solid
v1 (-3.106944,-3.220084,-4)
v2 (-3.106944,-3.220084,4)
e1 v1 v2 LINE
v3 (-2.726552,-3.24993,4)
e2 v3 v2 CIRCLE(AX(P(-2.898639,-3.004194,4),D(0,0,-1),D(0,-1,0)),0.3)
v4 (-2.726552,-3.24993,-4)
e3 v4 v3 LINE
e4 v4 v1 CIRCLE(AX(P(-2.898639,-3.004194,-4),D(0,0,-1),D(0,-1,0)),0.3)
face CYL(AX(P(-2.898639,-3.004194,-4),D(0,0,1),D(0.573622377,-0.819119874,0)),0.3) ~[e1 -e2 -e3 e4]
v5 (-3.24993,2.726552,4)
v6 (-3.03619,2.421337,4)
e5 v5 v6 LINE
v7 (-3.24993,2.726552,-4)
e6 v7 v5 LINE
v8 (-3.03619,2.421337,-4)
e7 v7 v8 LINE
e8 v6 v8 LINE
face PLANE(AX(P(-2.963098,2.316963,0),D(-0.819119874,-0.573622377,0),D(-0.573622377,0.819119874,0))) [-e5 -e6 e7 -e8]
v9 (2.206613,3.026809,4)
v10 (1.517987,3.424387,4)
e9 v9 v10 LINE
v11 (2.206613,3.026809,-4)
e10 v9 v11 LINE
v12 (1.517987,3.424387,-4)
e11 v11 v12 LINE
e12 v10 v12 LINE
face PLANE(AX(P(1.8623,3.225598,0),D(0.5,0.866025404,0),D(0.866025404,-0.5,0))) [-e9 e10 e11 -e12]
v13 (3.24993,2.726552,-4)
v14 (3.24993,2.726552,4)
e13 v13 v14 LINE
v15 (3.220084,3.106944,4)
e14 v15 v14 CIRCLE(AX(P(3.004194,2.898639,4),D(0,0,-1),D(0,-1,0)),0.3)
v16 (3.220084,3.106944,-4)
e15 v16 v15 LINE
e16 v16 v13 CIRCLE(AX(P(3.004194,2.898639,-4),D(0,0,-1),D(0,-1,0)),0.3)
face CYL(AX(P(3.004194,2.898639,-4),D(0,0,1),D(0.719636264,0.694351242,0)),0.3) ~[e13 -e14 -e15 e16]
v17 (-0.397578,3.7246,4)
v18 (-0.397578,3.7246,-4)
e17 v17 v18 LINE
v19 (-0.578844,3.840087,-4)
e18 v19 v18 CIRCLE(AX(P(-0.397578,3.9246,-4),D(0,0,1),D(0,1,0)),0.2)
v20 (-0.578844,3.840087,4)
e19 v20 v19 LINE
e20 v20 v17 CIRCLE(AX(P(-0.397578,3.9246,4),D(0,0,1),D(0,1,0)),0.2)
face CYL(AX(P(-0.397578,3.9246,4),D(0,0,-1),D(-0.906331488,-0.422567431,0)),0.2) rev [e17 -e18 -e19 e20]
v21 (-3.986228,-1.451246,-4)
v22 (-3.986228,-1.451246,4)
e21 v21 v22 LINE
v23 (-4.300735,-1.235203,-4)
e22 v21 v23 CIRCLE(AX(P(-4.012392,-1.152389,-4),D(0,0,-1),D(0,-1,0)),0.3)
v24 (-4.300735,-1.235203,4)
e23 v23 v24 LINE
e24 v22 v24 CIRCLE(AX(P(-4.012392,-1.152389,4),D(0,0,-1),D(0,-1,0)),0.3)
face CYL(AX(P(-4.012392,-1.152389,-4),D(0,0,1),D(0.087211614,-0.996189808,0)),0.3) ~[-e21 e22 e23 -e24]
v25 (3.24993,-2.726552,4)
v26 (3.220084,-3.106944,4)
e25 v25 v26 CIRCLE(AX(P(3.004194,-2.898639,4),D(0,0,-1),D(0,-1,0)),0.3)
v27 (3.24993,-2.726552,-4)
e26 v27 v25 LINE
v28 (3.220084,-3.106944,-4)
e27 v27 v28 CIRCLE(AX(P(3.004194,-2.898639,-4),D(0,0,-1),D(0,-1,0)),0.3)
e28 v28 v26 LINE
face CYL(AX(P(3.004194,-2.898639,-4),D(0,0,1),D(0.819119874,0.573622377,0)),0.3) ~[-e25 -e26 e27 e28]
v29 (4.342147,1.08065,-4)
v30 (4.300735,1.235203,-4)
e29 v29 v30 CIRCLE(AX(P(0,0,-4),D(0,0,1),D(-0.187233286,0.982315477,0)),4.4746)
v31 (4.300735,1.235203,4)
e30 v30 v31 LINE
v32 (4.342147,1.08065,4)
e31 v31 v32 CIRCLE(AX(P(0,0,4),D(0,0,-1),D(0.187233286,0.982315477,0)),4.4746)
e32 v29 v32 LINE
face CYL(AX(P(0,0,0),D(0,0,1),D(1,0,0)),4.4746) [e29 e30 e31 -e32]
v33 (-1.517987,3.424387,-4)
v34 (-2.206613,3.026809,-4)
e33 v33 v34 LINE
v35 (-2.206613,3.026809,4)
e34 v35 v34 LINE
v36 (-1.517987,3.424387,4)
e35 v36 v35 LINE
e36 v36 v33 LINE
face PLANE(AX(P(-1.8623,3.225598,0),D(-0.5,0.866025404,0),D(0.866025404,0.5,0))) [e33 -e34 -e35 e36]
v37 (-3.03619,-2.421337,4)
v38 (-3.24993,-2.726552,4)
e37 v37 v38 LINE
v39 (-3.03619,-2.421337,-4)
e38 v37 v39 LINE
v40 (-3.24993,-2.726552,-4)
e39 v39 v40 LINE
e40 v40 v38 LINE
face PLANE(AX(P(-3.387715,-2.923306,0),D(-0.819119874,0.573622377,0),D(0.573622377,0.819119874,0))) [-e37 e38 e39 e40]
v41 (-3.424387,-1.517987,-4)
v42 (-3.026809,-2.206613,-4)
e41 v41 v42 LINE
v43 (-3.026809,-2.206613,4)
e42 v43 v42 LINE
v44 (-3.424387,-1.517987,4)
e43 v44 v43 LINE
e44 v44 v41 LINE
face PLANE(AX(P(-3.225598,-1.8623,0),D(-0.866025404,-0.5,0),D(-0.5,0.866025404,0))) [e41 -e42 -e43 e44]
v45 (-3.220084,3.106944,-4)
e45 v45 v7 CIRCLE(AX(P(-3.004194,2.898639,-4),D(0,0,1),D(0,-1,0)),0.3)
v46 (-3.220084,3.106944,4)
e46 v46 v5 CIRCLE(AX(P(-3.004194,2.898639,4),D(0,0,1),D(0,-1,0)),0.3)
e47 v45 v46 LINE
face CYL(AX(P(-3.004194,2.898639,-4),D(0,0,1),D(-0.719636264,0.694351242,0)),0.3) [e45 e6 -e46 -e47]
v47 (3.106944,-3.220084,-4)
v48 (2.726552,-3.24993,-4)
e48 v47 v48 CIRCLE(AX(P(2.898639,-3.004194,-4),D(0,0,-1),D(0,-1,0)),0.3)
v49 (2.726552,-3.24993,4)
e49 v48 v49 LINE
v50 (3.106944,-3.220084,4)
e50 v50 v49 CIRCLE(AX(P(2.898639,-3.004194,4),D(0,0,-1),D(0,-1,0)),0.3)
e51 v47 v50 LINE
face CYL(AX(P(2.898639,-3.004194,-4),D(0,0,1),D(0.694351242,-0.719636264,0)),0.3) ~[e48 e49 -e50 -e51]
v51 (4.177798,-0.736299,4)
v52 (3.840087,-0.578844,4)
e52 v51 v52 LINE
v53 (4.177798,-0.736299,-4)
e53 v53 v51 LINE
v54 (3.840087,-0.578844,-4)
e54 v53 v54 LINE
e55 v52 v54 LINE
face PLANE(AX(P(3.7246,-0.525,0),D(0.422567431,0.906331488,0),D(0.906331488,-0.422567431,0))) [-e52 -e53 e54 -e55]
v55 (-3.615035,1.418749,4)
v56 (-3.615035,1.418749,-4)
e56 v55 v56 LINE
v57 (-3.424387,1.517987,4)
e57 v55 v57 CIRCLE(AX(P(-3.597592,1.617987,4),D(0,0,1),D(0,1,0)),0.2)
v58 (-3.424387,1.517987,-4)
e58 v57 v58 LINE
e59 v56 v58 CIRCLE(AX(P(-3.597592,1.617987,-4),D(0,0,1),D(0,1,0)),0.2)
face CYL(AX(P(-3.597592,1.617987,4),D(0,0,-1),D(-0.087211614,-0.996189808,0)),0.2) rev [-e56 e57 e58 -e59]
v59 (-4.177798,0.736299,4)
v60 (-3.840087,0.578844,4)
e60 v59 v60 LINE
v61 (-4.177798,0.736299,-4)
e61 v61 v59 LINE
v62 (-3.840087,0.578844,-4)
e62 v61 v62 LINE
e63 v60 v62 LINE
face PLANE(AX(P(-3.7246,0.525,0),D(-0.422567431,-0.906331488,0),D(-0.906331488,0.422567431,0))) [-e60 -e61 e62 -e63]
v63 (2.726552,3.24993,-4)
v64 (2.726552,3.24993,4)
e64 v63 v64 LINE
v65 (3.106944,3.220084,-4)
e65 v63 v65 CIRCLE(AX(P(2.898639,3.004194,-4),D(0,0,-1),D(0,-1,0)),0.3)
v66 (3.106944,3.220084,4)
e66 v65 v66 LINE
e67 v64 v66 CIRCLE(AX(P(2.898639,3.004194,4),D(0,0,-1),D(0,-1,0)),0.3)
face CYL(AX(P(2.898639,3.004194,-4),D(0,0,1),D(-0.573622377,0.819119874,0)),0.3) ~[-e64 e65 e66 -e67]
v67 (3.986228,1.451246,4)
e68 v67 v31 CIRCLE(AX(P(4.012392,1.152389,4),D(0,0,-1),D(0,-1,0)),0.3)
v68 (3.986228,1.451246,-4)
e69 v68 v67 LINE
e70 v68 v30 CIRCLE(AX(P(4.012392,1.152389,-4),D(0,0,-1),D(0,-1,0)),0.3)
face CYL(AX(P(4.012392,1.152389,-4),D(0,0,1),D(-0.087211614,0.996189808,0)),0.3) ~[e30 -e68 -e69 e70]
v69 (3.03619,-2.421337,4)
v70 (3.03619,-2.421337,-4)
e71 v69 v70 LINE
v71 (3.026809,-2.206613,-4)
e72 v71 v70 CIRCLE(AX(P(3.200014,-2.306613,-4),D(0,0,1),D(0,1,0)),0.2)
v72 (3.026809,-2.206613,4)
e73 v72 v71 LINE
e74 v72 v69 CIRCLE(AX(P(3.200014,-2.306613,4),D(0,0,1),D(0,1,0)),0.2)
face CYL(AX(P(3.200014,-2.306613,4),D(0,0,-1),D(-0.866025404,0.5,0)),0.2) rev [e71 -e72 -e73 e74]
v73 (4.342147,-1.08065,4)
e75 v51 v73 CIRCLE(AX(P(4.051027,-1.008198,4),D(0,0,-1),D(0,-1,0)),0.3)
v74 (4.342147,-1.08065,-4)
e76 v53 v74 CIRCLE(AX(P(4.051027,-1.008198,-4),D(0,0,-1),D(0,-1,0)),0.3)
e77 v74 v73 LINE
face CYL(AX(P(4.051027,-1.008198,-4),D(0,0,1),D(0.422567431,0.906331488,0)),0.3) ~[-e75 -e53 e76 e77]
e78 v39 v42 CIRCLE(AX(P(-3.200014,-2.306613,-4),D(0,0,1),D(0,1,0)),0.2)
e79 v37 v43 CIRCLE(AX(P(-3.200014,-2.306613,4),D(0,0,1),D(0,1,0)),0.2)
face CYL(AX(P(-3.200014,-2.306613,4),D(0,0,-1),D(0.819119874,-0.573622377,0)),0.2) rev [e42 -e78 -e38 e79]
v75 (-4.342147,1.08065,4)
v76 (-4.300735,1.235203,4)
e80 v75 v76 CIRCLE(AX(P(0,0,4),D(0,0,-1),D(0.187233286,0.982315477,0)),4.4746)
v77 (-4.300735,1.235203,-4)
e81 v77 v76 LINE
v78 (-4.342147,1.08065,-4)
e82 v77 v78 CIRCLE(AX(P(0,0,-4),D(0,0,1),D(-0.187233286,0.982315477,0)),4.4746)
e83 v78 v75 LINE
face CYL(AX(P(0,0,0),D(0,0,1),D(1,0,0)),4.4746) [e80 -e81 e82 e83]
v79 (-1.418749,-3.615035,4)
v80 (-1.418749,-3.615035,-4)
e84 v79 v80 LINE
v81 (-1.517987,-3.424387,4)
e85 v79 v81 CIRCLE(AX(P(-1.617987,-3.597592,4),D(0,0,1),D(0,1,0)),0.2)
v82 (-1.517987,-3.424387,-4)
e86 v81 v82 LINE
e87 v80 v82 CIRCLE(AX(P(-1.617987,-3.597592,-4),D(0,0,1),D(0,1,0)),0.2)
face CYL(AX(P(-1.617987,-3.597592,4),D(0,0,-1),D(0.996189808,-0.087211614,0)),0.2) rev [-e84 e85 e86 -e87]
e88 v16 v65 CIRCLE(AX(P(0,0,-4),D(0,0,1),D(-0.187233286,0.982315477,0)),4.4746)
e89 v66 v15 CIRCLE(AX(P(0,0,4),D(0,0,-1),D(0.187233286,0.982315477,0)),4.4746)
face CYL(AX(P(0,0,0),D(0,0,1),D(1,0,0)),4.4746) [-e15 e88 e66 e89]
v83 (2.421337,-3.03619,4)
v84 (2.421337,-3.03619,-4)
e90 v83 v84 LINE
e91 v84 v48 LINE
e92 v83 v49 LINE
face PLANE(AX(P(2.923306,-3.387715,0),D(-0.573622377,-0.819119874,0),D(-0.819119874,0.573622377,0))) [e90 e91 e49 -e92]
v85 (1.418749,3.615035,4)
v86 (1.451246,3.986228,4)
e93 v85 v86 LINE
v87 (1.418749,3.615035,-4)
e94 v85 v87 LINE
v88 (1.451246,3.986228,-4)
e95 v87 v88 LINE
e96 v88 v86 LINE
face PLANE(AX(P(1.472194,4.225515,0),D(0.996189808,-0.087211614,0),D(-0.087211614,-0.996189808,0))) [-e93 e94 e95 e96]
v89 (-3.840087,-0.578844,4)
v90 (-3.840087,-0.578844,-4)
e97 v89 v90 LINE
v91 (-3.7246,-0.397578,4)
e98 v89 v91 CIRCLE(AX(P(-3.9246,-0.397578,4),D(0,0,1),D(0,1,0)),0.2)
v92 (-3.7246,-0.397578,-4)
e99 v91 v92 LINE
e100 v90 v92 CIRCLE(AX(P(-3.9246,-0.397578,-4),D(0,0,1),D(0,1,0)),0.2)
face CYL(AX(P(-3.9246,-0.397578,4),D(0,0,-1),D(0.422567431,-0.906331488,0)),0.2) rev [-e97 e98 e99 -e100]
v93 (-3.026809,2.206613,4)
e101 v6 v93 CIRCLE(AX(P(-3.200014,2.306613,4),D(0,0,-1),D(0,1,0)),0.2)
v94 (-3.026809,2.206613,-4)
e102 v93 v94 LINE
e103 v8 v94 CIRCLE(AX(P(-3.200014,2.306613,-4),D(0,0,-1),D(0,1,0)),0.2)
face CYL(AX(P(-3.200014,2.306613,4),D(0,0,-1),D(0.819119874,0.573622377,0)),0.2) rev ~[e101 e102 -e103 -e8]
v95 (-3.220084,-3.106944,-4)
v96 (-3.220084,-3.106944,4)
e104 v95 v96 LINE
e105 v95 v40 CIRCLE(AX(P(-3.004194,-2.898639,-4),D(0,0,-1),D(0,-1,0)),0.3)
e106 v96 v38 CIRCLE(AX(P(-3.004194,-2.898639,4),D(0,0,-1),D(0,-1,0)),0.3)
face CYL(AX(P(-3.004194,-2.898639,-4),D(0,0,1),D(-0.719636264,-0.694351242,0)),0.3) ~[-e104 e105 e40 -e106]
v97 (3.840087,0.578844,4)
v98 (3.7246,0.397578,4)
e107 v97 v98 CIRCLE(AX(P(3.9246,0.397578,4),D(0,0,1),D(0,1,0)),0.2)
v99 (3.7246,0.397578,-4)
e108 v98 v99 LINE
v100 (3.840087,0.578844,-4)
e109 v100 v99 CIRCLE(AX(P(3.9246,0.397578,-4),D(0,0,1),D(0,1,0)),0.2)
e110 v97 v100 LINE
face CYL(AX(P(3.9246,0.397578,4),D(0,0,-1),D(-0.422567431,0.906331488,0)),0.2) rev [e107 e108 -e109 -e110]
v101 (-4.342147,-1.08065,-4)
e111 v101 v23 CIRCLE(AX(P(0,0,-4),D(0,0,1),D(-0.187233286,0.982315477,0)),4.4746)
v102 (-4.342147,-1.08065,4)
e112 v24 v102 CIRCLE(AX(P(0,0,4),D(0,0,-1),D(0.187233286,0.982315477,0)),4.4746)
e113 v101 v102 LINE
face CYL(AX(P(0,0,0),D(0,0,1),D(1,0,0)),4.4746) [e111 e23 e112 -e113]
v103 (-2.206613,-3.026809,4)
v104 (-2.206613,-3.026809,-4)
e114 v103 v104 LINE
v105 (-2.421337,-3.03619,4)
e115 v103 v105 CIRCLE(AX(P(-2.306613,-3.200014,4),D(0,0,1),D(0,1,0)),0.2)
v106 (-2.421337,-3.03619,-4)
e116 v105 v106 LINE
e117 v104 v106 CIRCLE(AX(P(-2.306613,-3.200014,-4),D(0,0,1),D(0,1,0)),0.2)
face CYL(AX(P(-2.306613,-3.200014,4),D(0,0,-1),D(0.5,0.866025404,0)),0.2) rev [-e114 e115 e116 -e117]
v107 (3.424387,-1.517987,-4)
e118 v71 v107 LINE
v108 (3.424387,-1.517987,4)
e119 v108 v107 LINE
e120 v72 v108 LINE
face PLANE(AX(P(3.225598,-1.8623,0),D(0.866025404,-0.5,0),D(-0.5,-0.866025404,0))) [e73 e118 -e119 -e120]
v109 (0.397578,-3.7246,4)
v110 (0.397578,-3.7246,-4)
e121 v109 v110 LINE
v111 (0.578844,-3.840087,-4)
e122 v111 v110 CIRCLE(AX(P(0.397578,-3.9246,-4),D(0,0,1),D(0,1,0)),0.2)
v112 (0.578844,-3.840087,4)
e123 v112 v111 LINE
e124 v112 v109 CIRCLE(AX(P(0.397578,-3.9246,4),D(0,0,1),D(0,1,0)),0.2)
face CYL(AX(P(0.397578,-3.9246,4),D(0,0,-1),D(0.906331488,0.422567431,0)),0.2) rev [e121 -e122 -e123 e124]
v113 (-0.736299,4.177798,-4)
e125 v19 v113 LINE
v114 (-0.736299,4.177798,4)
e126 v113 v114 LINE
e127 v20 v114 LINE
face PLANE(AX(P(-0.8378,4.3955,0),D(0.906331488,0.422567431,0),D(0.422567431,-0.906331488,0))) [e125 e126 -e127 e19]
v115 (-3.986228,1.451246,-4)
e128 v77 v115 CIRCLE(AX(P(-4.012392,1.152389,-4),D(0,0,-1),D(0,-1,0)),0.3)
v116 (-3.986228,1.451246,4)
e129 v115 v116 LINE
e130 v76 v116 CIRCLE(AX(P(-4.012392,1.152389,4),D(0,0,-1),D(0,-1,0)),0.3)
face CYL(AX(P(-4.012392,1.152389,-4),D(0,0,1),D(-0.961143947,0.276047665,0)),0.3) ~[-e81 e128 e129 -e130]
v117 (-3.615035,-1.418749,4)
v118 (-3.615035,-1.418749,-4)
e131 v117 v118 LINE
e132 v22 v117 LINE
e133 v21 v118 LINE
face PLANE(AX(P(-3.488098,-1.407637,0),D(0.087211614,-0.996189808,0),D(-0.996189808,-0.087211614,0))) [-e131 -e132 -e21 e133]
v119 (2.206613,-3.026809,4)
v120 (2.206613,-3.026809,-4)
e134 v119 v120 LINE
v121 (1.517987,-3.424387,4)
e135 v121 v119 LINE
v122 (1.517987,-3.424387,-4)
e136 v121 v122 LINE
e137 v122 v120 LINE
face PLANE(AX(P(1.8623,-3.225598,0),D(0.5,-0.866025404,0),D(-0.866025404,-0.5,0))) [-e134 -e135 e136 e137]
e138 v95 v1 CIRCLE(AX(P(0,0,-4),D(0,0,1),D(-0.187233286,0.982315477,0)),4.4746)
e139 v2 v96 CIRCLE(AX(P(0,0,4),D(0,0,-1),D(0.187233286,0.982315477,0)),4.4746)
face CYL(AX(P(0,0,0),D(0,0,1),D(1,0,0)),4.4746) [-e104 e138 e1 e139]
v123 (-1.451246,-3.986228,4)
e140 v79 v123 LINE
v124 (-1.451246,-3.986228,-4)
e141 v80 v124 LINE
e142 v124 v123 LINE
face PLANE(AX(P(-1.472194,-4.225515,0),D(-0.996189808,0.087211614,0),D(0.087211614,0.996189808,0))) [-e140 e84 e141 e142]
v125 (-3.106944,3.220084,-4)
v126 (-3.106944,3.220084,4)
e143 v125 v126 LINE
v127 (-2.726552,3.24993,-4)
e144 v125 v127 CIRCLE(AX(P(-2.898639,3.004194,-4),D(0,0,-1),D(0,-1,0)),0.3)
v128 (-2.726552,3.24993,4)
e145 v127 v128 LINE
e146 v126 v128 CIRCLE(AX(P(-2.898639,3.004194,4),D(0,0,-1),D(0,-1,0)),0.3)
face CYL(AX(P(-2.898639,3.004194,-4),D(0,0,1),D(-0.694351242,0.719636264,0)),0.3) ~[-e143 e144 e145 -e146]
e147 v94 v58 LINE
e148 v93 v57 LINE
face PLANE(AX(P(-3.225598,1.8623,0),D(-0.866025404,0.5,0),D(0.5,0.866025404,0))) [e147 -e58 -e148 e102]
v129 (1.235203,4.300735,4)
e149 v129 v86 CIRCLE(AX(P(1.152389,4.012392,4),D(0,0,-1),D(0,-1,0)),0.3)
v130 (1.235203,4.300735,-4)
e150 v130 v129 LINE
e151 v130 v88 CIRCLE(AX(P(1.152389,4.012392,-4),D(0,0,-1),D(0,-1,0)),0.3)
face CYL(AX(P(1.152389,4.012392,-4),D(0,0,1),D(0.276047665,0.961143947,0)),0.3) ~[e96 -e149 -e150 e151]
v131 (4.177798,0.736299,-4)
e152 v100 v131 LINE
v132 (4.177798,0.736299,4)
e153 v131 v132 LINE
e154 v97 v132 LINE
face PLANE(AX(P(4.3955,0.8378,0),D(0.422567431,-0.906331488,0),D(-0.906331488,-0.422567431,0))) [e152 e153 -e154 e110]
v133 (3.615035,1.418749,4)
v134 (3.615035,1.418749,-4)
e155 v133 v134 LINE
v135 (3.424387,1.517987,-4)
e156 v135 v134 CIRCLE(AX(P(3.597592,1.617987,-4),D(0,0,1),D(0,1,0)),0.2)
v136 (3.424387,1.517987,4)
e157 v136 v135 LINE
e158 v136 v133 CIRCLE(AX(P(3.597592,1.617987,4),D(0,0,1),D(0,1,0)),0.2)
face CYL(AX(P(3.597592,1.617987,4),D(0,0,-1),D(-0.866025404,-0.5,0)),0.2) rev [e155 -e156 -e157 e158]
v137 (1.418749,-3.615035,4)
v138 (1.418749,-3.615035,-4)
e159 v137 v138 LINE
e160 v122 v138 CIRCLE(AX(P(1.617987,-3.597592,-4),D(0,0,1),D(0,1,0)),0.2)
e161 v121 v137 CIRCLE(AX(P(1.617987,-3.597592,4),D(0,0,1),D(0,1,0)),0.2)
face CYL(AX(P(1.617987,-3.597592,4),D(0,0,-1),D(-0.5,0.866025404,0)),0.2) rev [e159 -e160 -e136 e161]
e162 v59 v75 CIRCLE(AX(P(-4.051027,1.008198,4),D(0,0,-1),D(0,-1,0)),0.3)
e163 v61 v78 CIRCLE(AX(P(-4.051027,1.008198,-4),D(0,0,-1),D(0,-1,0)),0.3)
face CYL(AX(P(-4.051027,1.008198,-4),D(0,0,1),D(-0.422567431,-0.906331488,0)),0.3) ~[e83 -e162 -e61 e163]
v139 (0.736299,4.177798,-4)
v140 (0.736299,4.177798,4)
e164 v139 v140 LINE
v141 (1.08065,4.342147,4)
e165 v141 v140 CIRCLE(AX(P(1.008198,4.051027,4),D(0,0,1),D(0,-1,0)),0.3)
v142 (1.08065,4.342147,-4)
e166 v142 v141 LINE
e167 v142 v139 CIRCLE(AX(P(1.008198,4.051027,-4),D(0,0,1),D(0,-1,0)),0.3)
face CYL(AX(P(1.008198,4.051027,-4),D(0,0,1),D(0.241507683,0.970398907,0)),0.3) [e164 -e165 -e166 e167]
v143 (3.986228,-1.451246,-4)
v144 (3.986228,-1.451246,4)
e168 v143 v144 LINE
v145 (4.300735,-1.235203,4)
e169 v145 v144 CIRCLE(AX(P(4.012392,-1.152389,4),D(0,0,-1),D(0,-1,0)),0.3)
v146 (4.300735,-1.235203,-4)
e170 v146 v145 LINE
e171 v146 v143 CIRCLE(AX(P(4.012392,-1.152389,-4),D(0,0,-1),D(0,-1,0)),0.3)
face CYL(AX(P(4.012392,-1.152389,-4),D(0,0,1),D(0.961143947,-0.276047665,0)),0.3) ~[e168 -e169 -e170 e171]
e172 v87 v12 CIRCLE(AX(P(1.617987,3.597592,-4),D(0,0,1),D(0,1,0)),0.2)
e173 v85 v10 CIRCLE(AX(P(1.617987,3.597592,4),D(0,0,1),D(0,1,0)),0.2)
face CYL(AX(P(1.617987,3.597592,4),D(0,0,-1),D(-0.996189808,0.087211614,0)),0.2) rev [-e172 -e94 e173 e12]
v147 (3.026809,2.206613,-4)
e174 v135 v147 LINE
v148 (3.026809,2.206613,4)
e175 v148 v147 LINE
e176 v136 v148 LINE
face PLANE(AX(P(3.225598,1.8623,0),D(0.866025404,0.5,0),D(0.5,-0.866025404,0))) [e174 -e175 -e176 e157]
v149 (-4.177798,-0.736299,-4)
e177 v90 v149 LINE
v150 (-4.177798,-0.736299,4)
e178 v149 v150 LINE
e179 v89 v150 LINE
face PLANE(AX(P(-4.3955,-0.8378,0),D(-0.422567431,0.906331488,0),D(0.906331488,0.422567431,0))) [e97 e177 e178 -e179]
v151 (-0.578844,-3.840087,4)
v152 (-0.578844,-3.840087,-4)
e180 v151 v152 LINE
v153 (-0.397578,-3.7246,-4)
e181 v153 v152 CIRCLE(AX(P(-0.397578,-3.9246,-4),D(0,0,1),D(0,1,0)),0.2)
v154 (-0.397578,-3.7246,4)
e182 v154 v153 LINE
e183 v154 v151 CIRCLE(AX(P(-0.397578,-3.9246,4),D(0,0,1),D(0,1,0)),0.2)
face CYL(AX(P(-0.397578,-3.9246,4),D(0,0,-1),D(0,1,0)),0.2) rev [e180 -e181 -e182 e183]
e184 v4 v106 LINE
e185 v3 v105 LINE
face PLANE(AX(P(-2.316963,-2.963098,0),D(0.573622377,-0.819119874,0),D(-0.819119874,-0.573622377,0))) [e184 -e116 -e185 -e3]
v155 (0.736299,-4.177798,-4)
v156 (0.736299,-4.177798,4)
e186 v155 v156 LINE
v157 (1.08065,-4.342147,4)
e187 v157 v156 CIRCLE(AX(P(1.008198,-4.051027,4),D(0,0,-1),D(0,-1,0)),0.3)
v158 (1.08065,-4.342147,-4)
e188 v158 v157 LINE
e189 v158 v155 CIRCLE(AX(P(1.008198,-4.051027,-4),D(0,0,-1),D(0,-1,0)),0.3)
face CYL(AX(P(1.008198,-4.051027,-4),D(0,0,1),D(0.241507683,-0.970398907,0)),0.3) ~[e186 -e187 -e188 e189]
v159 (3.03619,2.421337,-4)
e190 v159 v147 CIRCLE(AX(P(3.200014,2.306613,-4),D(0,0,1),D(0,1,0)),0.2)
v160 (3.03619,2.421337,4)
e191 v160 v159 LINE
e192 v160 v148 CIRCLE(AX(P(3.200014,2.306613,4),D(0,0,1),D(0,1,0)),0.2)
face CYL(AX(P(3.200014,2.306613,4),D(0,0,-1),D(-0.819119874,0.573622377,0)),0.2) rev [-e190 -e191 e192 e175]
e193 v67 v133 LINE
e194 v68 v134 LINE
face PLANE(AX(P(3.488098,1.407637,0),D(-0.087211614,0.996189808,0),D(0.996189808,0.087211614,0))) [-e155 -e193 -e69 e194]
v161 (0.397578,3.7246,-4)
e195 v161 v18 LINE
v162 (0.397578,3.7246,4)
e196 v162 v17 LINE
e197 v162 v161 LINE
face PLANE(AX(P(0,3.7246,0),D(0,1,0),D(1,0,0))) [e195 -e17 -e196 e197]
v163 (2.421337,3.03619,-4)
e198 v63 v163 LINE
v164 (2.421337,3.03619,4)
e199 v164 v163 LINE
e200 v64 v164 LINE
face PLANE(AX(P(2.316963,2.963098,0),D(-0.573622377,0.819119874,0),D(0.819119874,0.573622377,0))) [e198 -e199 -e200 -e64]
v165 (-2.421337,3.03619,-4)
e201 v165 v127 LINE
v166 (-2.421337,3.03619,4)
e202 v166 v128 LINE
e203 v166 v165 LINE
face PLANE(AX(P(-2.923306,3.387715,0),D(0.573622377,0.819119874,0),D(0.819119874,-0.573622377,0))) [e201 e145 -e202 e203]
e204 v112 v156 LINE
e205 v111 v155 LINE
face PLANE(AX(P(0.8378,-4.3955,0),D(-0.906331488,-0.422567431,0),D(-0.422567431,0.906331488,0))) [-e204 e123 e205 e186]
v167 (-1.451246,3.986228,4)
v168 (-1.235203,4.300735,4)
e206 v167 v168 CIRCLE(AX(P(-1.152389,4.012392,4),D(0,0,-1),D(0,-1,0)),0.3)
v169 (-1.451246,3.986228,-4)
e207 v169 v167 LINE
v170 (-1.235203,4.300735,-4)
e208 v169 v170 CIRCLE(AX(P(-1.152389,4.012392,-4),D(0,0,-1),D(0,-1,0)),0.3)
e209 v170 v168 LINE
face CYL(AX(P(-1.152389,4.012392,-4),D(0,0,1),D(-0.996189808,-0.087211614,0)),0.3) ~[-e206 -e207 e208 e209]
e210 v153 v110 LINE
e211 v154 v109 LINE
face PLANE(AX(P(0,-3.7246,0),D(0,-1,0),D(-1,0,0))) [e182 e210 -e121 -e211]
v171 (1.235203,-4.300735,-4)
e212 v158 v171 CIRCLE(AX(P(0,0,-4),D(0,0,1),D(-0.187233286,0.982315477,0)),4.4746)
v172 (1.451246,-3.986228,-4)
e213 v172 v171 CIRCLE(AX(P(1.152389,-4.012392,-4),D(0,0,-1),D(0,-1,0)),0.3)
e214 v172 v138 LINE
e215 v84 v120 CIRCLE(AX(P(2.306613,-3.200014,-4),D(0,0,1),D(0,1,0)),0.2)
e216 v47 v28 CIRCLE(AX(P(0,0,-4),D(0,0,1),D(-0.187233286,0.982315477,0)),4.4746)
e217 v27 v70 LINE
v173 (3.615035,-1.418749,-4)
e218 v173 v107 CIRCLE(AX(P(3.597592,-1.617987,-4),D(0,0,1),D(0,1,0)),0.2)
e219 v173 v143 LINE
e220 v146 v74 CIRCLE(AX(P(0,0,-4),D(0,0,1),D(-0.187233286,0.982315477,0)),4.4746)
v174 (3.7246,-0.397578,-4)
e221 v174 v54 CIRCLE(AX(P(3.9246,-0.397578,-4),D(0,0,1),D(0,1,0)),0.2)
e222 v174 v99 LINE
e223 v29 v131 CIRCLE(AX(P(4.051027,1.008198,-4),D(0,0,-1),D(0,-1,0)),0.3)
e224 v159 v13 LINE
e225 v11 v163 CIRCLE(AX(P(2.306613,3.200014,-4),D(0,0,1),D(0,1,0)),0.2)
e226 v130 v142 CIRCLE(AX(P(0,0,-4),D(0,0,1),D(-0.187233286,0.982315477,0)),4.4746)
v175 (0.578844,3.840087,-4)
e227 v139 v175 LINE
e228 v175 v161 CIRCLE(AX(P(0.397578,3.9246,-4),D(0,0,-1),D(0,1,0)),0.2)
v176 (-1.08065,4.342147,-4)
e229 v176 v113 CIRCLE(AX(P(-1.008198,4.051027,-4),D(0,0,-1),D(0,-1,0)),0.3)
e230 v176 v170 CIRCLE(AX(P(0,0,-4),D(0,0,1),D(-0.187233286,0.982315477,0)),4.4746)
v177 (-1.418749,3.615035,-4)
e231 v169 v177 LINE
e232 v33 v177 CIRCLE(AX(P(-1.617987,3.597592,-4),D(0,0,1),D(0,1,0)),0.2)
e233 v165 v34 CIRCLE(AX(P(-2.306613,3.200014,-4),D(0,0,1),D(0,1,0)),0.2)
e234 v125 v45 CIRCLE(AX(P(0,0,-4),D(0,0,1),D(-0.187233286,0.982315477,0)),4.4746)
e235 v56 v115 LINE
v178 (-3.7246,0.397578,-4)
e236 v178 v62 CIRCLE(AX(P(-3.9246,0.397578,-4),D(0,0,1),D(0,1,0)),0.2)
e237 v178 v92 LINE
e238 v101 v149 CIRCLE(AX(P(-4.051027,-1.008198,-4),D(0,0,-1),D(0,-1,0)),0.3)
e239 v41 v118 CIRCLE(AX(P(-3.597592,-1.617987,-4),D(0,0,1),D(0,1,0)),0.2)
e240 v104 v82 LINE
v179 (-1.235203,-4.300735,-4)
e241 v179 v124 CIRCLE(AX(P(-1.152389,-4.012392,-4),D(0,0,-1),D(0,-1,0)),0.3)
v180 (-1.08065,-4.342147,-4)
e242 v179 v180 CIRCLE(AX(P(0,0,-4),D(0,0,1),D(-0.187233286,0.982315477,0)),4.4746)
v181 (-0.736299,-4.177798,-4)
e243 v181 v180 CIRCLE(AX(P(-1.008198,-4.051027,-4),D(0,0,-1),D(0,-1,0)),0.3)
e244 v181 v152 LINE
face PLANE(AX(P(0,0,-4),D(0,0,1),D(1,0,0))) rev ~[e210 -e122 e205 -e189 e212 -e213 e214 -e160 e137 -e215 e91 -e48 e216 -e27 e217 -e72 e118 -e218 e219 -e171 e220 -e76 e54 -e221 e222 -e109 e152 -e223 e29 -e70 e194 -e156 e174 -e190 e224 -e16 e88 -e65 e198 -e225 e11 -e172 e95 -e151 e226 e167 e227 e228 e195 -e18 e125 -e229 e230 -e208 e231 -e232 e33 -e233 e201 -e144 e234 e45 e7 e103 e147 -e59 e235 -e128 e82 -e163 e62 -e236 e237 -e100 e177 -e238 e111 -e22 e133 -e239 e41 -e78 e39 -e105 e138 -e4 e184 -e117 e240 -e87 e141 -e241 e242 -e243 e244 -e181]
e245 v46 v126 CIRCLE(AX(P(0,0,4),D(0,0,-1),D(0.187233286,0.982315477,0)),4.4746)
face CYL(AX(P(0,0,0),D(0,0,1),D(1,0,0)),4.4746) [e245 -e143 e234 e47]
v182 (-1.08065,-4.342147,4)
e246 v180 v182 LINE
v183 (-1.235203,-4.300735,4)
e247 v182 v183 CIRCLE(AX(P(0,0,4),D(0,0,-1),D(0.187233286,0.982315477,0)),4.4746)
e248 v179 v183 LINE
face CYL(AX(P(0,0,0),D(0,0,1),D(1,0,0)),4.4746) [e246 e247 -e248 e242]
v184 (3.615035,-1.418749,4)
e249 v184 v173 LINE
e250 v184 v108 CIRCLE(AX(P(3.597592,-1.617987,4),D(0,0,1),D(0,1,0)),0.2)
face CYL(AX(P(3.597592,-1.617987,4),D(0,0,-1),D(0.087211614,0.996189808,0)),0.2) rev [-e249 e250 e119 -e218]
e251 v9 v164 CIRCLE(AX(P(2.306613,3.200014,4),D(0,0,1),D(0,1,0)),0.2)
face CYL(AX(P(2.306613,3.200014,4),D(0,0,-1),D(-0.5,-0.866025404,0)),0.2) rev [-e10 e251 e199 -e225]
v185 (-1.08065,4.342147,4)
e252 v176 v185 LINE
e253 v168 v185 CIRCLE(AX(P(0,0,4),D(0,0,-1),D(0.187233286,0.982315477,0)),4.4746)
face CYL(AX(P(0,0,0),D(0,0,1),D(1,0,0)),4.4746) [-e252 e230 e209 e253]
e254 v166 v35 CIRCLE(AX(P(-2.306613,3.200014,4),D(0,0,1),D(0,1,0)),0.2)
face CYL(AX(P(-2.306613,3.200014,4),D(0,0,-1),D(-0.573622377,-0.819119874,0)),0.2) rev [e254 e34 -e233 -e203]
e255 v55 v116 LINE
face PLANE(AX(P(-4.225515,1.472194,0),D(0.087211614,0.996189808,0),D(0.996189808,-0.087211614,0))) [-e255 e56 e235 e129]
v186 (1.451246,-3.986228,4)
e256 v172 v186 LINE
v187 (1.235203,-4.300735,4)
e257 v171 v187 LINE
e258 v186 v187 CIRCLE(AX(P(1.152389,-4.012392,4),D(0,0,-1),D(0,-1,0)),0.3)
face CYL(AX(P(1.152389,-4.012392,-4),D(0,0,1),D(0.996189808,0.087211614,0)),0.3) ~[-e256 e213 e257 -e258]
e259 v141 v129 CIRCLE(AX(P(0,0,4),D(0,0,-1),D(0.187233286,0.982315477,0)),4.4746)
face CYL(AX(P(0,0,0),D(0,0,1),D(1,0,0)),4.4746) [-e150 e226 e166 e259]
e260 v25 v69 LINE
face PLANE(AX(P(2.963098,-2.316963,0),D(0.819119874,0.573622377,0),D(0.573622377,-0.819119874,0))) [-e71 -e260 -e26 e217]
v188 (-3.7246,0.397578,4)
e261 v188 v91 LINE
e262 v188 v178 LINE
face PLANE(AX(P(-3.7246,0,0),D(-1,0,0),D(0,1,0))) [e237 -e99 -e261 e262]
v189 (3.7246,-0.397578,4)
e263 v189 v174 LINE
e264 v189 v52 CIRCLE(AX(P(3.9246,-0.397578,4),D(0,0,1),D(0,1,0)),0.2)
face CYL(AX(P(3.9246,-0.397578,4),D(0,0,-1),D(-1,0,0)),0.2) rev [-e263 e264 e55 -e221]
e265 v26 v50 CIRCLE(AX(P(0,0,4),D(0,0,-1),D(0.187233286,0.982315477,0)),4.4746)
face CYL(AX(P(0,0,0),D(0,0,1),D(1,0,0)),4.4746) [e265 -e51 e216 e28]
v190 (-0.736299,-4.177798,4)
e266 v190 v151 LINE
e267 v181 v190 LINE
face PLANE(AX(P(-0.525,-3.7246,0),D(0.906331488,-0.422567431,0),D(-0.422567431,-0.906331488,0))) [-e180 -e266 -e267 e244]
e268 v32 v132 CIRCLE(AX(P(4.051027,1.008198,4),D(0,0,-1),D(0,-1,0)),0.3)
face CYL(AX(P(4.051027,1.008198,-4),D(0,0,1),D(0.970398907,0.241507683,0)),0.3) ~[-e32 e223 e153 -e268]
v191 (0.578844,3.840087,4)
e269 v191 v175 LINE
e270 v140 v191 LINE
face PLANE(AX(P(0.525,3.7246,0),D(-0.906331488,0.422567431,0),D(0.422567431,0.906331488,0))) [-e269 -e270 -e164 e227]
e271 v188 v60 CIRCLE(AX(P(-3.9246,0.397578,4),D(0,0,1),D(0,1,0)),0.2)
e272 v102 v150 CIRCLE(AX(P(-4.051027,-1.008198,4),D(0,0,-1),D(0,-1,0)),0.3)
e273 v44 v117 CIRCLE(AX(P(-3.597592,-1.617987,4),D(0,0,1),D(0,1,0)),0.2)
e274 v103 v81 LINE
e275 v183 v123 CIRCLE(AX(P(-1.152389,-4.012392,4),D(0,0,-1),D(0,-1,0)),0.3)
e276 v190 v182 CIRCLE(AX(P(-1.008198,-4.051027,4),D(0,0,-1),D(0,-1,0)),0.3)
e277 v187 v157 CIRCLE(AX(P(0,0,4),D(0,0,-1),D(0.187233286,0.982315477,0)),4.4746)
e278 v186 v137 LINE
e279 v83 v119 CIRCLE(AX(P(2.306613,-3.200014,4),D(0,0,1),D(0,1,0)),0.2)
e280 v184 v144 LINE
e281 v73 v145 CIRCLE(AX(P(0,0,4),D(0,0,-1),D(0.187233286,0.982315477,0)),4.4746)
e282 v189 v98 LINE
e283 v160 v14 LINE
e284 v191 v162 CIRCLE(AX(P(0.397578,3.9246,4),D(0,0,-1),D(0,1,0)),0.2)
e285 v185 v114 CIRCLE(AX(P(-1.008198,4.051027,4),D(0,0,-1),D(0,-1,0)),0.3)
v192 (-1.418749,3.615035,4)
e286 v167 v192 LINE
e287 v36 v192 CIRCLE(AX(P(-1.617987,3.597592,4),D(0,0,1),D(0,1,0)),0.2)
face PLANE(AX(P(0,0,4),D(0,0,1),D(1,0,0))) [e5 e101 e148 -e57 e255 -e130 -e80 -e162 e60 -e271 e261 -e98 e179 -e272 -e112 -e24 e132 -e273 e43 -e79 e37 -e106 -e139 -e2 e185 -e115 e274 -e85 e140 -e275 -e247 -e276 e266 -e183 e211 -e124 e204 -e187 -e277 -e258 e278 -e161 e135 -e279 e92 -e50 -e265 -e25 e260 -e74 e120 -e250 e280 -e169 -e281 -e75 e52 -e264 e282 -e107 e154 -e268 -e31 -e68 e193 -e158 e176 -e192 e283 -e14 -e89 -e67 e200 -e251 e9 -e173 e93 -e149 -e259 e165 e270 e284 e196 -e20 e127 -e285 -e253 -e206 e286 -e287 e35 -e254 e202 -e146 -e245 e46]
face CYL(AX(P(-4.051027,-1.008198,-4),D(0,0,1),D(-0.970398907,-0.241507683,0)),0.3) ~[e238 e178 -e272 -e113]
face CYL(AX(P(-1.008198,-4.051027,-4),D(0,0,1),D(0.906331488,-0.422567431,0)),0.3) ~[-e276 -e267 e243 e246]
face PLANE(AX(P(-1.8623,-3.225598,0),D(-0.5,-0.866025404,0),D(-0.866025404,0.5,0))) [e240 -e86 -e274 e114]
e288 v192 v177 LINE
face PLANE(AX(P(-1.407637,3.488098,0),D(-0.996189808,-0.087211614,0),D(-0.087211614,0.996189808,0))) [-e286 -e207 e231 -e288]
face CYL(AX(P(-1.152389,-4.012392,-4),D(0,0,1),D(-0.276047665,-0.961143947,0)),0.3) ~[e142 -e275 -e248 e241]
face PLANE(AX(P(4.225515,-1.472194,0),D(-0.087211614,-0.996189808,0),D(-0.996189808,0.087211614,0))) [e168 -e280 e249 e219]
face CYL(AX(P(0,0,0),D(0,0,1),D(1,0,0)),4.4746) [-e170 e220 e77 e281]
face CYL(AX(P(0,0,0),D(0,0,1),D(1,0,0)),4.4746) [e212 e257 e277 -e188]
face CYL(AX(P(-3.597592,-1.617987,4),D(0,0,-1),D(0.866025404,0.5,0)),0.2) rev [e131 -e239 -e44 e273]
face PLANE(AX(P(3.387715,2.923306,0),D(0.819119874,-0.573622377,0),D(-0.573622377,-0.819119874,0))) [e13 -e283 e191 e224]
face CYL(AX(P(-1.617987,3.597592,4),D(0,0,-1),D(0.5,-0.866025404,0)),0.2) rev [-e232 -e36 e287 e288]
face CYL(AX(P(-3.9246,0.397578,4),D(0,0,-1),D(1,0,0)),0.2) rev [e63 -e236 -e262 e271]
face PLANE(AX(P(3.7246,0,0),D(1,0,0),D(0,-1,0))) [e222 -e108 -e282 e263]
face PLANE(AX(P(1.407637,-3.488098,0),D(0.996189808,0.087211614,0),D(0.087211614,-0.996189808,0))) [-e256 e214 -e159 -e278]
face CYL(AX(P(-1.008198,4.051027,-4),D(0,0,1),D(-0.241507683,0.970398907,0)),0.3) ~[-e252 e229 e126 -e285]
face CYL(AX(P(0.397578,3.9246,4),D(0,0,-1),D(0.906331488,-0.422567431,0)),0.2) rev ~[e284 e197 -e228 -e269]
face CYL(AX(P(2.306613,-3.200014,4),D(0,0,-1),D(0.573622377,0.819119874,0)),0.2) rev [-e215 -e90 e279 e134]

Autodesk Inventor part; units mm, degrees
ref_plane "YZ Plane" through (0, 0, 0) normal (1, 0, 0) x (0, 1, 0)
ref_plane "XZ Plane" through (0, 0, 0) normal (0, 1, 0) x (-1, 0, 0)
ref_plane "XY Plane" through (0, 0, 0) normal (0, 0, 1) x (1, 0, 0)
sketch "Pulley Sketch" plane through (0, 0, 0) normal (0, 0, 1) x (1, 0, 0)
  circle A0 centre (0, 0) radius 4.7746 construction
  circle A1 centre (0, 0) radius 4.4746
  circle A2 centre (0, 0) radius 3.7246
  line L0 (-0.8378, 4.3955) -> (-0.525, 3.7246)
  line L1 (-0.525, 3.7246) -> (0.525, 3.7246)
  line L2 (0.525, 3.7246) -> (0.8378, 4.3955)
  line L3 (0, 0) -> (0, 4.4746) construction
  point P0 (0, 3.7246)
  dimension "d0" = 9.5493
  dimension "d1" = 0.3
  dimension "d2" = 0.75
  dimension "d3" = 50
  dimension "d4" = 1.05
extrude "Base Body" add sketch "Pulley Sketch" along normal mid plane 8 contours A2 | A1 L0 L1 L2 | L2 L1 L0 A1
extrude "Tooth" cut sketch "Pulley Sketch" along normal through all both and the other way through all contours L2 L1 L0 A1 picked at (0, 4.2187)
fillet "Tooth Fillet" radius 0.2 2 edges at (0.525, 3.7246, 0) (-0.525, 3.7246, 0)
fillet "Tooth Fillet" radius 0.3 4 edges at (-0.8378, 4.3955, 2) (-0.8378, 4.3955, -2) (0.8378, 4.3955, 2) (0.8378, 4.3955, -2)
pattern_circular "Teeth" count 12 over 360 about axis through (0, 0, -10) along (0, 0, 1) of "Tooth", "Tooth Fillet"
feature "Left flange" [suppressed]
feature "Right flange" [suppressed]
equation "\"d1\" = da_a"
equation "\"d2\" = da_hg"
equation "\"d3\" = 2 * da_fi"
equation "\"d4\" = da_bw"
equation "\"d5\" = da_bf"
equation "\"d7\" = da_bf"
equation "\"d9\" = da_rb"
equation "\"d10\" = da_rt"
equation "\"da_pb\" = 2.5"
equation "\"da_fi\" = 25deg"
equation "\"da_hg\" = 0.75"
equation "\"da_bw\" = 1.05"
equation "\"da_rb\" = 0.2"
equation "\"da_rt\" = 0.3"
equation "\"da_a\" = 0.3"
equation "\"da_bf\" = 8"
equation "\"da_wf\" = 1.5"
equation "\"da_hf\" = 1.5"
properties part number "Synchronous Pulley1" material "Steel"
